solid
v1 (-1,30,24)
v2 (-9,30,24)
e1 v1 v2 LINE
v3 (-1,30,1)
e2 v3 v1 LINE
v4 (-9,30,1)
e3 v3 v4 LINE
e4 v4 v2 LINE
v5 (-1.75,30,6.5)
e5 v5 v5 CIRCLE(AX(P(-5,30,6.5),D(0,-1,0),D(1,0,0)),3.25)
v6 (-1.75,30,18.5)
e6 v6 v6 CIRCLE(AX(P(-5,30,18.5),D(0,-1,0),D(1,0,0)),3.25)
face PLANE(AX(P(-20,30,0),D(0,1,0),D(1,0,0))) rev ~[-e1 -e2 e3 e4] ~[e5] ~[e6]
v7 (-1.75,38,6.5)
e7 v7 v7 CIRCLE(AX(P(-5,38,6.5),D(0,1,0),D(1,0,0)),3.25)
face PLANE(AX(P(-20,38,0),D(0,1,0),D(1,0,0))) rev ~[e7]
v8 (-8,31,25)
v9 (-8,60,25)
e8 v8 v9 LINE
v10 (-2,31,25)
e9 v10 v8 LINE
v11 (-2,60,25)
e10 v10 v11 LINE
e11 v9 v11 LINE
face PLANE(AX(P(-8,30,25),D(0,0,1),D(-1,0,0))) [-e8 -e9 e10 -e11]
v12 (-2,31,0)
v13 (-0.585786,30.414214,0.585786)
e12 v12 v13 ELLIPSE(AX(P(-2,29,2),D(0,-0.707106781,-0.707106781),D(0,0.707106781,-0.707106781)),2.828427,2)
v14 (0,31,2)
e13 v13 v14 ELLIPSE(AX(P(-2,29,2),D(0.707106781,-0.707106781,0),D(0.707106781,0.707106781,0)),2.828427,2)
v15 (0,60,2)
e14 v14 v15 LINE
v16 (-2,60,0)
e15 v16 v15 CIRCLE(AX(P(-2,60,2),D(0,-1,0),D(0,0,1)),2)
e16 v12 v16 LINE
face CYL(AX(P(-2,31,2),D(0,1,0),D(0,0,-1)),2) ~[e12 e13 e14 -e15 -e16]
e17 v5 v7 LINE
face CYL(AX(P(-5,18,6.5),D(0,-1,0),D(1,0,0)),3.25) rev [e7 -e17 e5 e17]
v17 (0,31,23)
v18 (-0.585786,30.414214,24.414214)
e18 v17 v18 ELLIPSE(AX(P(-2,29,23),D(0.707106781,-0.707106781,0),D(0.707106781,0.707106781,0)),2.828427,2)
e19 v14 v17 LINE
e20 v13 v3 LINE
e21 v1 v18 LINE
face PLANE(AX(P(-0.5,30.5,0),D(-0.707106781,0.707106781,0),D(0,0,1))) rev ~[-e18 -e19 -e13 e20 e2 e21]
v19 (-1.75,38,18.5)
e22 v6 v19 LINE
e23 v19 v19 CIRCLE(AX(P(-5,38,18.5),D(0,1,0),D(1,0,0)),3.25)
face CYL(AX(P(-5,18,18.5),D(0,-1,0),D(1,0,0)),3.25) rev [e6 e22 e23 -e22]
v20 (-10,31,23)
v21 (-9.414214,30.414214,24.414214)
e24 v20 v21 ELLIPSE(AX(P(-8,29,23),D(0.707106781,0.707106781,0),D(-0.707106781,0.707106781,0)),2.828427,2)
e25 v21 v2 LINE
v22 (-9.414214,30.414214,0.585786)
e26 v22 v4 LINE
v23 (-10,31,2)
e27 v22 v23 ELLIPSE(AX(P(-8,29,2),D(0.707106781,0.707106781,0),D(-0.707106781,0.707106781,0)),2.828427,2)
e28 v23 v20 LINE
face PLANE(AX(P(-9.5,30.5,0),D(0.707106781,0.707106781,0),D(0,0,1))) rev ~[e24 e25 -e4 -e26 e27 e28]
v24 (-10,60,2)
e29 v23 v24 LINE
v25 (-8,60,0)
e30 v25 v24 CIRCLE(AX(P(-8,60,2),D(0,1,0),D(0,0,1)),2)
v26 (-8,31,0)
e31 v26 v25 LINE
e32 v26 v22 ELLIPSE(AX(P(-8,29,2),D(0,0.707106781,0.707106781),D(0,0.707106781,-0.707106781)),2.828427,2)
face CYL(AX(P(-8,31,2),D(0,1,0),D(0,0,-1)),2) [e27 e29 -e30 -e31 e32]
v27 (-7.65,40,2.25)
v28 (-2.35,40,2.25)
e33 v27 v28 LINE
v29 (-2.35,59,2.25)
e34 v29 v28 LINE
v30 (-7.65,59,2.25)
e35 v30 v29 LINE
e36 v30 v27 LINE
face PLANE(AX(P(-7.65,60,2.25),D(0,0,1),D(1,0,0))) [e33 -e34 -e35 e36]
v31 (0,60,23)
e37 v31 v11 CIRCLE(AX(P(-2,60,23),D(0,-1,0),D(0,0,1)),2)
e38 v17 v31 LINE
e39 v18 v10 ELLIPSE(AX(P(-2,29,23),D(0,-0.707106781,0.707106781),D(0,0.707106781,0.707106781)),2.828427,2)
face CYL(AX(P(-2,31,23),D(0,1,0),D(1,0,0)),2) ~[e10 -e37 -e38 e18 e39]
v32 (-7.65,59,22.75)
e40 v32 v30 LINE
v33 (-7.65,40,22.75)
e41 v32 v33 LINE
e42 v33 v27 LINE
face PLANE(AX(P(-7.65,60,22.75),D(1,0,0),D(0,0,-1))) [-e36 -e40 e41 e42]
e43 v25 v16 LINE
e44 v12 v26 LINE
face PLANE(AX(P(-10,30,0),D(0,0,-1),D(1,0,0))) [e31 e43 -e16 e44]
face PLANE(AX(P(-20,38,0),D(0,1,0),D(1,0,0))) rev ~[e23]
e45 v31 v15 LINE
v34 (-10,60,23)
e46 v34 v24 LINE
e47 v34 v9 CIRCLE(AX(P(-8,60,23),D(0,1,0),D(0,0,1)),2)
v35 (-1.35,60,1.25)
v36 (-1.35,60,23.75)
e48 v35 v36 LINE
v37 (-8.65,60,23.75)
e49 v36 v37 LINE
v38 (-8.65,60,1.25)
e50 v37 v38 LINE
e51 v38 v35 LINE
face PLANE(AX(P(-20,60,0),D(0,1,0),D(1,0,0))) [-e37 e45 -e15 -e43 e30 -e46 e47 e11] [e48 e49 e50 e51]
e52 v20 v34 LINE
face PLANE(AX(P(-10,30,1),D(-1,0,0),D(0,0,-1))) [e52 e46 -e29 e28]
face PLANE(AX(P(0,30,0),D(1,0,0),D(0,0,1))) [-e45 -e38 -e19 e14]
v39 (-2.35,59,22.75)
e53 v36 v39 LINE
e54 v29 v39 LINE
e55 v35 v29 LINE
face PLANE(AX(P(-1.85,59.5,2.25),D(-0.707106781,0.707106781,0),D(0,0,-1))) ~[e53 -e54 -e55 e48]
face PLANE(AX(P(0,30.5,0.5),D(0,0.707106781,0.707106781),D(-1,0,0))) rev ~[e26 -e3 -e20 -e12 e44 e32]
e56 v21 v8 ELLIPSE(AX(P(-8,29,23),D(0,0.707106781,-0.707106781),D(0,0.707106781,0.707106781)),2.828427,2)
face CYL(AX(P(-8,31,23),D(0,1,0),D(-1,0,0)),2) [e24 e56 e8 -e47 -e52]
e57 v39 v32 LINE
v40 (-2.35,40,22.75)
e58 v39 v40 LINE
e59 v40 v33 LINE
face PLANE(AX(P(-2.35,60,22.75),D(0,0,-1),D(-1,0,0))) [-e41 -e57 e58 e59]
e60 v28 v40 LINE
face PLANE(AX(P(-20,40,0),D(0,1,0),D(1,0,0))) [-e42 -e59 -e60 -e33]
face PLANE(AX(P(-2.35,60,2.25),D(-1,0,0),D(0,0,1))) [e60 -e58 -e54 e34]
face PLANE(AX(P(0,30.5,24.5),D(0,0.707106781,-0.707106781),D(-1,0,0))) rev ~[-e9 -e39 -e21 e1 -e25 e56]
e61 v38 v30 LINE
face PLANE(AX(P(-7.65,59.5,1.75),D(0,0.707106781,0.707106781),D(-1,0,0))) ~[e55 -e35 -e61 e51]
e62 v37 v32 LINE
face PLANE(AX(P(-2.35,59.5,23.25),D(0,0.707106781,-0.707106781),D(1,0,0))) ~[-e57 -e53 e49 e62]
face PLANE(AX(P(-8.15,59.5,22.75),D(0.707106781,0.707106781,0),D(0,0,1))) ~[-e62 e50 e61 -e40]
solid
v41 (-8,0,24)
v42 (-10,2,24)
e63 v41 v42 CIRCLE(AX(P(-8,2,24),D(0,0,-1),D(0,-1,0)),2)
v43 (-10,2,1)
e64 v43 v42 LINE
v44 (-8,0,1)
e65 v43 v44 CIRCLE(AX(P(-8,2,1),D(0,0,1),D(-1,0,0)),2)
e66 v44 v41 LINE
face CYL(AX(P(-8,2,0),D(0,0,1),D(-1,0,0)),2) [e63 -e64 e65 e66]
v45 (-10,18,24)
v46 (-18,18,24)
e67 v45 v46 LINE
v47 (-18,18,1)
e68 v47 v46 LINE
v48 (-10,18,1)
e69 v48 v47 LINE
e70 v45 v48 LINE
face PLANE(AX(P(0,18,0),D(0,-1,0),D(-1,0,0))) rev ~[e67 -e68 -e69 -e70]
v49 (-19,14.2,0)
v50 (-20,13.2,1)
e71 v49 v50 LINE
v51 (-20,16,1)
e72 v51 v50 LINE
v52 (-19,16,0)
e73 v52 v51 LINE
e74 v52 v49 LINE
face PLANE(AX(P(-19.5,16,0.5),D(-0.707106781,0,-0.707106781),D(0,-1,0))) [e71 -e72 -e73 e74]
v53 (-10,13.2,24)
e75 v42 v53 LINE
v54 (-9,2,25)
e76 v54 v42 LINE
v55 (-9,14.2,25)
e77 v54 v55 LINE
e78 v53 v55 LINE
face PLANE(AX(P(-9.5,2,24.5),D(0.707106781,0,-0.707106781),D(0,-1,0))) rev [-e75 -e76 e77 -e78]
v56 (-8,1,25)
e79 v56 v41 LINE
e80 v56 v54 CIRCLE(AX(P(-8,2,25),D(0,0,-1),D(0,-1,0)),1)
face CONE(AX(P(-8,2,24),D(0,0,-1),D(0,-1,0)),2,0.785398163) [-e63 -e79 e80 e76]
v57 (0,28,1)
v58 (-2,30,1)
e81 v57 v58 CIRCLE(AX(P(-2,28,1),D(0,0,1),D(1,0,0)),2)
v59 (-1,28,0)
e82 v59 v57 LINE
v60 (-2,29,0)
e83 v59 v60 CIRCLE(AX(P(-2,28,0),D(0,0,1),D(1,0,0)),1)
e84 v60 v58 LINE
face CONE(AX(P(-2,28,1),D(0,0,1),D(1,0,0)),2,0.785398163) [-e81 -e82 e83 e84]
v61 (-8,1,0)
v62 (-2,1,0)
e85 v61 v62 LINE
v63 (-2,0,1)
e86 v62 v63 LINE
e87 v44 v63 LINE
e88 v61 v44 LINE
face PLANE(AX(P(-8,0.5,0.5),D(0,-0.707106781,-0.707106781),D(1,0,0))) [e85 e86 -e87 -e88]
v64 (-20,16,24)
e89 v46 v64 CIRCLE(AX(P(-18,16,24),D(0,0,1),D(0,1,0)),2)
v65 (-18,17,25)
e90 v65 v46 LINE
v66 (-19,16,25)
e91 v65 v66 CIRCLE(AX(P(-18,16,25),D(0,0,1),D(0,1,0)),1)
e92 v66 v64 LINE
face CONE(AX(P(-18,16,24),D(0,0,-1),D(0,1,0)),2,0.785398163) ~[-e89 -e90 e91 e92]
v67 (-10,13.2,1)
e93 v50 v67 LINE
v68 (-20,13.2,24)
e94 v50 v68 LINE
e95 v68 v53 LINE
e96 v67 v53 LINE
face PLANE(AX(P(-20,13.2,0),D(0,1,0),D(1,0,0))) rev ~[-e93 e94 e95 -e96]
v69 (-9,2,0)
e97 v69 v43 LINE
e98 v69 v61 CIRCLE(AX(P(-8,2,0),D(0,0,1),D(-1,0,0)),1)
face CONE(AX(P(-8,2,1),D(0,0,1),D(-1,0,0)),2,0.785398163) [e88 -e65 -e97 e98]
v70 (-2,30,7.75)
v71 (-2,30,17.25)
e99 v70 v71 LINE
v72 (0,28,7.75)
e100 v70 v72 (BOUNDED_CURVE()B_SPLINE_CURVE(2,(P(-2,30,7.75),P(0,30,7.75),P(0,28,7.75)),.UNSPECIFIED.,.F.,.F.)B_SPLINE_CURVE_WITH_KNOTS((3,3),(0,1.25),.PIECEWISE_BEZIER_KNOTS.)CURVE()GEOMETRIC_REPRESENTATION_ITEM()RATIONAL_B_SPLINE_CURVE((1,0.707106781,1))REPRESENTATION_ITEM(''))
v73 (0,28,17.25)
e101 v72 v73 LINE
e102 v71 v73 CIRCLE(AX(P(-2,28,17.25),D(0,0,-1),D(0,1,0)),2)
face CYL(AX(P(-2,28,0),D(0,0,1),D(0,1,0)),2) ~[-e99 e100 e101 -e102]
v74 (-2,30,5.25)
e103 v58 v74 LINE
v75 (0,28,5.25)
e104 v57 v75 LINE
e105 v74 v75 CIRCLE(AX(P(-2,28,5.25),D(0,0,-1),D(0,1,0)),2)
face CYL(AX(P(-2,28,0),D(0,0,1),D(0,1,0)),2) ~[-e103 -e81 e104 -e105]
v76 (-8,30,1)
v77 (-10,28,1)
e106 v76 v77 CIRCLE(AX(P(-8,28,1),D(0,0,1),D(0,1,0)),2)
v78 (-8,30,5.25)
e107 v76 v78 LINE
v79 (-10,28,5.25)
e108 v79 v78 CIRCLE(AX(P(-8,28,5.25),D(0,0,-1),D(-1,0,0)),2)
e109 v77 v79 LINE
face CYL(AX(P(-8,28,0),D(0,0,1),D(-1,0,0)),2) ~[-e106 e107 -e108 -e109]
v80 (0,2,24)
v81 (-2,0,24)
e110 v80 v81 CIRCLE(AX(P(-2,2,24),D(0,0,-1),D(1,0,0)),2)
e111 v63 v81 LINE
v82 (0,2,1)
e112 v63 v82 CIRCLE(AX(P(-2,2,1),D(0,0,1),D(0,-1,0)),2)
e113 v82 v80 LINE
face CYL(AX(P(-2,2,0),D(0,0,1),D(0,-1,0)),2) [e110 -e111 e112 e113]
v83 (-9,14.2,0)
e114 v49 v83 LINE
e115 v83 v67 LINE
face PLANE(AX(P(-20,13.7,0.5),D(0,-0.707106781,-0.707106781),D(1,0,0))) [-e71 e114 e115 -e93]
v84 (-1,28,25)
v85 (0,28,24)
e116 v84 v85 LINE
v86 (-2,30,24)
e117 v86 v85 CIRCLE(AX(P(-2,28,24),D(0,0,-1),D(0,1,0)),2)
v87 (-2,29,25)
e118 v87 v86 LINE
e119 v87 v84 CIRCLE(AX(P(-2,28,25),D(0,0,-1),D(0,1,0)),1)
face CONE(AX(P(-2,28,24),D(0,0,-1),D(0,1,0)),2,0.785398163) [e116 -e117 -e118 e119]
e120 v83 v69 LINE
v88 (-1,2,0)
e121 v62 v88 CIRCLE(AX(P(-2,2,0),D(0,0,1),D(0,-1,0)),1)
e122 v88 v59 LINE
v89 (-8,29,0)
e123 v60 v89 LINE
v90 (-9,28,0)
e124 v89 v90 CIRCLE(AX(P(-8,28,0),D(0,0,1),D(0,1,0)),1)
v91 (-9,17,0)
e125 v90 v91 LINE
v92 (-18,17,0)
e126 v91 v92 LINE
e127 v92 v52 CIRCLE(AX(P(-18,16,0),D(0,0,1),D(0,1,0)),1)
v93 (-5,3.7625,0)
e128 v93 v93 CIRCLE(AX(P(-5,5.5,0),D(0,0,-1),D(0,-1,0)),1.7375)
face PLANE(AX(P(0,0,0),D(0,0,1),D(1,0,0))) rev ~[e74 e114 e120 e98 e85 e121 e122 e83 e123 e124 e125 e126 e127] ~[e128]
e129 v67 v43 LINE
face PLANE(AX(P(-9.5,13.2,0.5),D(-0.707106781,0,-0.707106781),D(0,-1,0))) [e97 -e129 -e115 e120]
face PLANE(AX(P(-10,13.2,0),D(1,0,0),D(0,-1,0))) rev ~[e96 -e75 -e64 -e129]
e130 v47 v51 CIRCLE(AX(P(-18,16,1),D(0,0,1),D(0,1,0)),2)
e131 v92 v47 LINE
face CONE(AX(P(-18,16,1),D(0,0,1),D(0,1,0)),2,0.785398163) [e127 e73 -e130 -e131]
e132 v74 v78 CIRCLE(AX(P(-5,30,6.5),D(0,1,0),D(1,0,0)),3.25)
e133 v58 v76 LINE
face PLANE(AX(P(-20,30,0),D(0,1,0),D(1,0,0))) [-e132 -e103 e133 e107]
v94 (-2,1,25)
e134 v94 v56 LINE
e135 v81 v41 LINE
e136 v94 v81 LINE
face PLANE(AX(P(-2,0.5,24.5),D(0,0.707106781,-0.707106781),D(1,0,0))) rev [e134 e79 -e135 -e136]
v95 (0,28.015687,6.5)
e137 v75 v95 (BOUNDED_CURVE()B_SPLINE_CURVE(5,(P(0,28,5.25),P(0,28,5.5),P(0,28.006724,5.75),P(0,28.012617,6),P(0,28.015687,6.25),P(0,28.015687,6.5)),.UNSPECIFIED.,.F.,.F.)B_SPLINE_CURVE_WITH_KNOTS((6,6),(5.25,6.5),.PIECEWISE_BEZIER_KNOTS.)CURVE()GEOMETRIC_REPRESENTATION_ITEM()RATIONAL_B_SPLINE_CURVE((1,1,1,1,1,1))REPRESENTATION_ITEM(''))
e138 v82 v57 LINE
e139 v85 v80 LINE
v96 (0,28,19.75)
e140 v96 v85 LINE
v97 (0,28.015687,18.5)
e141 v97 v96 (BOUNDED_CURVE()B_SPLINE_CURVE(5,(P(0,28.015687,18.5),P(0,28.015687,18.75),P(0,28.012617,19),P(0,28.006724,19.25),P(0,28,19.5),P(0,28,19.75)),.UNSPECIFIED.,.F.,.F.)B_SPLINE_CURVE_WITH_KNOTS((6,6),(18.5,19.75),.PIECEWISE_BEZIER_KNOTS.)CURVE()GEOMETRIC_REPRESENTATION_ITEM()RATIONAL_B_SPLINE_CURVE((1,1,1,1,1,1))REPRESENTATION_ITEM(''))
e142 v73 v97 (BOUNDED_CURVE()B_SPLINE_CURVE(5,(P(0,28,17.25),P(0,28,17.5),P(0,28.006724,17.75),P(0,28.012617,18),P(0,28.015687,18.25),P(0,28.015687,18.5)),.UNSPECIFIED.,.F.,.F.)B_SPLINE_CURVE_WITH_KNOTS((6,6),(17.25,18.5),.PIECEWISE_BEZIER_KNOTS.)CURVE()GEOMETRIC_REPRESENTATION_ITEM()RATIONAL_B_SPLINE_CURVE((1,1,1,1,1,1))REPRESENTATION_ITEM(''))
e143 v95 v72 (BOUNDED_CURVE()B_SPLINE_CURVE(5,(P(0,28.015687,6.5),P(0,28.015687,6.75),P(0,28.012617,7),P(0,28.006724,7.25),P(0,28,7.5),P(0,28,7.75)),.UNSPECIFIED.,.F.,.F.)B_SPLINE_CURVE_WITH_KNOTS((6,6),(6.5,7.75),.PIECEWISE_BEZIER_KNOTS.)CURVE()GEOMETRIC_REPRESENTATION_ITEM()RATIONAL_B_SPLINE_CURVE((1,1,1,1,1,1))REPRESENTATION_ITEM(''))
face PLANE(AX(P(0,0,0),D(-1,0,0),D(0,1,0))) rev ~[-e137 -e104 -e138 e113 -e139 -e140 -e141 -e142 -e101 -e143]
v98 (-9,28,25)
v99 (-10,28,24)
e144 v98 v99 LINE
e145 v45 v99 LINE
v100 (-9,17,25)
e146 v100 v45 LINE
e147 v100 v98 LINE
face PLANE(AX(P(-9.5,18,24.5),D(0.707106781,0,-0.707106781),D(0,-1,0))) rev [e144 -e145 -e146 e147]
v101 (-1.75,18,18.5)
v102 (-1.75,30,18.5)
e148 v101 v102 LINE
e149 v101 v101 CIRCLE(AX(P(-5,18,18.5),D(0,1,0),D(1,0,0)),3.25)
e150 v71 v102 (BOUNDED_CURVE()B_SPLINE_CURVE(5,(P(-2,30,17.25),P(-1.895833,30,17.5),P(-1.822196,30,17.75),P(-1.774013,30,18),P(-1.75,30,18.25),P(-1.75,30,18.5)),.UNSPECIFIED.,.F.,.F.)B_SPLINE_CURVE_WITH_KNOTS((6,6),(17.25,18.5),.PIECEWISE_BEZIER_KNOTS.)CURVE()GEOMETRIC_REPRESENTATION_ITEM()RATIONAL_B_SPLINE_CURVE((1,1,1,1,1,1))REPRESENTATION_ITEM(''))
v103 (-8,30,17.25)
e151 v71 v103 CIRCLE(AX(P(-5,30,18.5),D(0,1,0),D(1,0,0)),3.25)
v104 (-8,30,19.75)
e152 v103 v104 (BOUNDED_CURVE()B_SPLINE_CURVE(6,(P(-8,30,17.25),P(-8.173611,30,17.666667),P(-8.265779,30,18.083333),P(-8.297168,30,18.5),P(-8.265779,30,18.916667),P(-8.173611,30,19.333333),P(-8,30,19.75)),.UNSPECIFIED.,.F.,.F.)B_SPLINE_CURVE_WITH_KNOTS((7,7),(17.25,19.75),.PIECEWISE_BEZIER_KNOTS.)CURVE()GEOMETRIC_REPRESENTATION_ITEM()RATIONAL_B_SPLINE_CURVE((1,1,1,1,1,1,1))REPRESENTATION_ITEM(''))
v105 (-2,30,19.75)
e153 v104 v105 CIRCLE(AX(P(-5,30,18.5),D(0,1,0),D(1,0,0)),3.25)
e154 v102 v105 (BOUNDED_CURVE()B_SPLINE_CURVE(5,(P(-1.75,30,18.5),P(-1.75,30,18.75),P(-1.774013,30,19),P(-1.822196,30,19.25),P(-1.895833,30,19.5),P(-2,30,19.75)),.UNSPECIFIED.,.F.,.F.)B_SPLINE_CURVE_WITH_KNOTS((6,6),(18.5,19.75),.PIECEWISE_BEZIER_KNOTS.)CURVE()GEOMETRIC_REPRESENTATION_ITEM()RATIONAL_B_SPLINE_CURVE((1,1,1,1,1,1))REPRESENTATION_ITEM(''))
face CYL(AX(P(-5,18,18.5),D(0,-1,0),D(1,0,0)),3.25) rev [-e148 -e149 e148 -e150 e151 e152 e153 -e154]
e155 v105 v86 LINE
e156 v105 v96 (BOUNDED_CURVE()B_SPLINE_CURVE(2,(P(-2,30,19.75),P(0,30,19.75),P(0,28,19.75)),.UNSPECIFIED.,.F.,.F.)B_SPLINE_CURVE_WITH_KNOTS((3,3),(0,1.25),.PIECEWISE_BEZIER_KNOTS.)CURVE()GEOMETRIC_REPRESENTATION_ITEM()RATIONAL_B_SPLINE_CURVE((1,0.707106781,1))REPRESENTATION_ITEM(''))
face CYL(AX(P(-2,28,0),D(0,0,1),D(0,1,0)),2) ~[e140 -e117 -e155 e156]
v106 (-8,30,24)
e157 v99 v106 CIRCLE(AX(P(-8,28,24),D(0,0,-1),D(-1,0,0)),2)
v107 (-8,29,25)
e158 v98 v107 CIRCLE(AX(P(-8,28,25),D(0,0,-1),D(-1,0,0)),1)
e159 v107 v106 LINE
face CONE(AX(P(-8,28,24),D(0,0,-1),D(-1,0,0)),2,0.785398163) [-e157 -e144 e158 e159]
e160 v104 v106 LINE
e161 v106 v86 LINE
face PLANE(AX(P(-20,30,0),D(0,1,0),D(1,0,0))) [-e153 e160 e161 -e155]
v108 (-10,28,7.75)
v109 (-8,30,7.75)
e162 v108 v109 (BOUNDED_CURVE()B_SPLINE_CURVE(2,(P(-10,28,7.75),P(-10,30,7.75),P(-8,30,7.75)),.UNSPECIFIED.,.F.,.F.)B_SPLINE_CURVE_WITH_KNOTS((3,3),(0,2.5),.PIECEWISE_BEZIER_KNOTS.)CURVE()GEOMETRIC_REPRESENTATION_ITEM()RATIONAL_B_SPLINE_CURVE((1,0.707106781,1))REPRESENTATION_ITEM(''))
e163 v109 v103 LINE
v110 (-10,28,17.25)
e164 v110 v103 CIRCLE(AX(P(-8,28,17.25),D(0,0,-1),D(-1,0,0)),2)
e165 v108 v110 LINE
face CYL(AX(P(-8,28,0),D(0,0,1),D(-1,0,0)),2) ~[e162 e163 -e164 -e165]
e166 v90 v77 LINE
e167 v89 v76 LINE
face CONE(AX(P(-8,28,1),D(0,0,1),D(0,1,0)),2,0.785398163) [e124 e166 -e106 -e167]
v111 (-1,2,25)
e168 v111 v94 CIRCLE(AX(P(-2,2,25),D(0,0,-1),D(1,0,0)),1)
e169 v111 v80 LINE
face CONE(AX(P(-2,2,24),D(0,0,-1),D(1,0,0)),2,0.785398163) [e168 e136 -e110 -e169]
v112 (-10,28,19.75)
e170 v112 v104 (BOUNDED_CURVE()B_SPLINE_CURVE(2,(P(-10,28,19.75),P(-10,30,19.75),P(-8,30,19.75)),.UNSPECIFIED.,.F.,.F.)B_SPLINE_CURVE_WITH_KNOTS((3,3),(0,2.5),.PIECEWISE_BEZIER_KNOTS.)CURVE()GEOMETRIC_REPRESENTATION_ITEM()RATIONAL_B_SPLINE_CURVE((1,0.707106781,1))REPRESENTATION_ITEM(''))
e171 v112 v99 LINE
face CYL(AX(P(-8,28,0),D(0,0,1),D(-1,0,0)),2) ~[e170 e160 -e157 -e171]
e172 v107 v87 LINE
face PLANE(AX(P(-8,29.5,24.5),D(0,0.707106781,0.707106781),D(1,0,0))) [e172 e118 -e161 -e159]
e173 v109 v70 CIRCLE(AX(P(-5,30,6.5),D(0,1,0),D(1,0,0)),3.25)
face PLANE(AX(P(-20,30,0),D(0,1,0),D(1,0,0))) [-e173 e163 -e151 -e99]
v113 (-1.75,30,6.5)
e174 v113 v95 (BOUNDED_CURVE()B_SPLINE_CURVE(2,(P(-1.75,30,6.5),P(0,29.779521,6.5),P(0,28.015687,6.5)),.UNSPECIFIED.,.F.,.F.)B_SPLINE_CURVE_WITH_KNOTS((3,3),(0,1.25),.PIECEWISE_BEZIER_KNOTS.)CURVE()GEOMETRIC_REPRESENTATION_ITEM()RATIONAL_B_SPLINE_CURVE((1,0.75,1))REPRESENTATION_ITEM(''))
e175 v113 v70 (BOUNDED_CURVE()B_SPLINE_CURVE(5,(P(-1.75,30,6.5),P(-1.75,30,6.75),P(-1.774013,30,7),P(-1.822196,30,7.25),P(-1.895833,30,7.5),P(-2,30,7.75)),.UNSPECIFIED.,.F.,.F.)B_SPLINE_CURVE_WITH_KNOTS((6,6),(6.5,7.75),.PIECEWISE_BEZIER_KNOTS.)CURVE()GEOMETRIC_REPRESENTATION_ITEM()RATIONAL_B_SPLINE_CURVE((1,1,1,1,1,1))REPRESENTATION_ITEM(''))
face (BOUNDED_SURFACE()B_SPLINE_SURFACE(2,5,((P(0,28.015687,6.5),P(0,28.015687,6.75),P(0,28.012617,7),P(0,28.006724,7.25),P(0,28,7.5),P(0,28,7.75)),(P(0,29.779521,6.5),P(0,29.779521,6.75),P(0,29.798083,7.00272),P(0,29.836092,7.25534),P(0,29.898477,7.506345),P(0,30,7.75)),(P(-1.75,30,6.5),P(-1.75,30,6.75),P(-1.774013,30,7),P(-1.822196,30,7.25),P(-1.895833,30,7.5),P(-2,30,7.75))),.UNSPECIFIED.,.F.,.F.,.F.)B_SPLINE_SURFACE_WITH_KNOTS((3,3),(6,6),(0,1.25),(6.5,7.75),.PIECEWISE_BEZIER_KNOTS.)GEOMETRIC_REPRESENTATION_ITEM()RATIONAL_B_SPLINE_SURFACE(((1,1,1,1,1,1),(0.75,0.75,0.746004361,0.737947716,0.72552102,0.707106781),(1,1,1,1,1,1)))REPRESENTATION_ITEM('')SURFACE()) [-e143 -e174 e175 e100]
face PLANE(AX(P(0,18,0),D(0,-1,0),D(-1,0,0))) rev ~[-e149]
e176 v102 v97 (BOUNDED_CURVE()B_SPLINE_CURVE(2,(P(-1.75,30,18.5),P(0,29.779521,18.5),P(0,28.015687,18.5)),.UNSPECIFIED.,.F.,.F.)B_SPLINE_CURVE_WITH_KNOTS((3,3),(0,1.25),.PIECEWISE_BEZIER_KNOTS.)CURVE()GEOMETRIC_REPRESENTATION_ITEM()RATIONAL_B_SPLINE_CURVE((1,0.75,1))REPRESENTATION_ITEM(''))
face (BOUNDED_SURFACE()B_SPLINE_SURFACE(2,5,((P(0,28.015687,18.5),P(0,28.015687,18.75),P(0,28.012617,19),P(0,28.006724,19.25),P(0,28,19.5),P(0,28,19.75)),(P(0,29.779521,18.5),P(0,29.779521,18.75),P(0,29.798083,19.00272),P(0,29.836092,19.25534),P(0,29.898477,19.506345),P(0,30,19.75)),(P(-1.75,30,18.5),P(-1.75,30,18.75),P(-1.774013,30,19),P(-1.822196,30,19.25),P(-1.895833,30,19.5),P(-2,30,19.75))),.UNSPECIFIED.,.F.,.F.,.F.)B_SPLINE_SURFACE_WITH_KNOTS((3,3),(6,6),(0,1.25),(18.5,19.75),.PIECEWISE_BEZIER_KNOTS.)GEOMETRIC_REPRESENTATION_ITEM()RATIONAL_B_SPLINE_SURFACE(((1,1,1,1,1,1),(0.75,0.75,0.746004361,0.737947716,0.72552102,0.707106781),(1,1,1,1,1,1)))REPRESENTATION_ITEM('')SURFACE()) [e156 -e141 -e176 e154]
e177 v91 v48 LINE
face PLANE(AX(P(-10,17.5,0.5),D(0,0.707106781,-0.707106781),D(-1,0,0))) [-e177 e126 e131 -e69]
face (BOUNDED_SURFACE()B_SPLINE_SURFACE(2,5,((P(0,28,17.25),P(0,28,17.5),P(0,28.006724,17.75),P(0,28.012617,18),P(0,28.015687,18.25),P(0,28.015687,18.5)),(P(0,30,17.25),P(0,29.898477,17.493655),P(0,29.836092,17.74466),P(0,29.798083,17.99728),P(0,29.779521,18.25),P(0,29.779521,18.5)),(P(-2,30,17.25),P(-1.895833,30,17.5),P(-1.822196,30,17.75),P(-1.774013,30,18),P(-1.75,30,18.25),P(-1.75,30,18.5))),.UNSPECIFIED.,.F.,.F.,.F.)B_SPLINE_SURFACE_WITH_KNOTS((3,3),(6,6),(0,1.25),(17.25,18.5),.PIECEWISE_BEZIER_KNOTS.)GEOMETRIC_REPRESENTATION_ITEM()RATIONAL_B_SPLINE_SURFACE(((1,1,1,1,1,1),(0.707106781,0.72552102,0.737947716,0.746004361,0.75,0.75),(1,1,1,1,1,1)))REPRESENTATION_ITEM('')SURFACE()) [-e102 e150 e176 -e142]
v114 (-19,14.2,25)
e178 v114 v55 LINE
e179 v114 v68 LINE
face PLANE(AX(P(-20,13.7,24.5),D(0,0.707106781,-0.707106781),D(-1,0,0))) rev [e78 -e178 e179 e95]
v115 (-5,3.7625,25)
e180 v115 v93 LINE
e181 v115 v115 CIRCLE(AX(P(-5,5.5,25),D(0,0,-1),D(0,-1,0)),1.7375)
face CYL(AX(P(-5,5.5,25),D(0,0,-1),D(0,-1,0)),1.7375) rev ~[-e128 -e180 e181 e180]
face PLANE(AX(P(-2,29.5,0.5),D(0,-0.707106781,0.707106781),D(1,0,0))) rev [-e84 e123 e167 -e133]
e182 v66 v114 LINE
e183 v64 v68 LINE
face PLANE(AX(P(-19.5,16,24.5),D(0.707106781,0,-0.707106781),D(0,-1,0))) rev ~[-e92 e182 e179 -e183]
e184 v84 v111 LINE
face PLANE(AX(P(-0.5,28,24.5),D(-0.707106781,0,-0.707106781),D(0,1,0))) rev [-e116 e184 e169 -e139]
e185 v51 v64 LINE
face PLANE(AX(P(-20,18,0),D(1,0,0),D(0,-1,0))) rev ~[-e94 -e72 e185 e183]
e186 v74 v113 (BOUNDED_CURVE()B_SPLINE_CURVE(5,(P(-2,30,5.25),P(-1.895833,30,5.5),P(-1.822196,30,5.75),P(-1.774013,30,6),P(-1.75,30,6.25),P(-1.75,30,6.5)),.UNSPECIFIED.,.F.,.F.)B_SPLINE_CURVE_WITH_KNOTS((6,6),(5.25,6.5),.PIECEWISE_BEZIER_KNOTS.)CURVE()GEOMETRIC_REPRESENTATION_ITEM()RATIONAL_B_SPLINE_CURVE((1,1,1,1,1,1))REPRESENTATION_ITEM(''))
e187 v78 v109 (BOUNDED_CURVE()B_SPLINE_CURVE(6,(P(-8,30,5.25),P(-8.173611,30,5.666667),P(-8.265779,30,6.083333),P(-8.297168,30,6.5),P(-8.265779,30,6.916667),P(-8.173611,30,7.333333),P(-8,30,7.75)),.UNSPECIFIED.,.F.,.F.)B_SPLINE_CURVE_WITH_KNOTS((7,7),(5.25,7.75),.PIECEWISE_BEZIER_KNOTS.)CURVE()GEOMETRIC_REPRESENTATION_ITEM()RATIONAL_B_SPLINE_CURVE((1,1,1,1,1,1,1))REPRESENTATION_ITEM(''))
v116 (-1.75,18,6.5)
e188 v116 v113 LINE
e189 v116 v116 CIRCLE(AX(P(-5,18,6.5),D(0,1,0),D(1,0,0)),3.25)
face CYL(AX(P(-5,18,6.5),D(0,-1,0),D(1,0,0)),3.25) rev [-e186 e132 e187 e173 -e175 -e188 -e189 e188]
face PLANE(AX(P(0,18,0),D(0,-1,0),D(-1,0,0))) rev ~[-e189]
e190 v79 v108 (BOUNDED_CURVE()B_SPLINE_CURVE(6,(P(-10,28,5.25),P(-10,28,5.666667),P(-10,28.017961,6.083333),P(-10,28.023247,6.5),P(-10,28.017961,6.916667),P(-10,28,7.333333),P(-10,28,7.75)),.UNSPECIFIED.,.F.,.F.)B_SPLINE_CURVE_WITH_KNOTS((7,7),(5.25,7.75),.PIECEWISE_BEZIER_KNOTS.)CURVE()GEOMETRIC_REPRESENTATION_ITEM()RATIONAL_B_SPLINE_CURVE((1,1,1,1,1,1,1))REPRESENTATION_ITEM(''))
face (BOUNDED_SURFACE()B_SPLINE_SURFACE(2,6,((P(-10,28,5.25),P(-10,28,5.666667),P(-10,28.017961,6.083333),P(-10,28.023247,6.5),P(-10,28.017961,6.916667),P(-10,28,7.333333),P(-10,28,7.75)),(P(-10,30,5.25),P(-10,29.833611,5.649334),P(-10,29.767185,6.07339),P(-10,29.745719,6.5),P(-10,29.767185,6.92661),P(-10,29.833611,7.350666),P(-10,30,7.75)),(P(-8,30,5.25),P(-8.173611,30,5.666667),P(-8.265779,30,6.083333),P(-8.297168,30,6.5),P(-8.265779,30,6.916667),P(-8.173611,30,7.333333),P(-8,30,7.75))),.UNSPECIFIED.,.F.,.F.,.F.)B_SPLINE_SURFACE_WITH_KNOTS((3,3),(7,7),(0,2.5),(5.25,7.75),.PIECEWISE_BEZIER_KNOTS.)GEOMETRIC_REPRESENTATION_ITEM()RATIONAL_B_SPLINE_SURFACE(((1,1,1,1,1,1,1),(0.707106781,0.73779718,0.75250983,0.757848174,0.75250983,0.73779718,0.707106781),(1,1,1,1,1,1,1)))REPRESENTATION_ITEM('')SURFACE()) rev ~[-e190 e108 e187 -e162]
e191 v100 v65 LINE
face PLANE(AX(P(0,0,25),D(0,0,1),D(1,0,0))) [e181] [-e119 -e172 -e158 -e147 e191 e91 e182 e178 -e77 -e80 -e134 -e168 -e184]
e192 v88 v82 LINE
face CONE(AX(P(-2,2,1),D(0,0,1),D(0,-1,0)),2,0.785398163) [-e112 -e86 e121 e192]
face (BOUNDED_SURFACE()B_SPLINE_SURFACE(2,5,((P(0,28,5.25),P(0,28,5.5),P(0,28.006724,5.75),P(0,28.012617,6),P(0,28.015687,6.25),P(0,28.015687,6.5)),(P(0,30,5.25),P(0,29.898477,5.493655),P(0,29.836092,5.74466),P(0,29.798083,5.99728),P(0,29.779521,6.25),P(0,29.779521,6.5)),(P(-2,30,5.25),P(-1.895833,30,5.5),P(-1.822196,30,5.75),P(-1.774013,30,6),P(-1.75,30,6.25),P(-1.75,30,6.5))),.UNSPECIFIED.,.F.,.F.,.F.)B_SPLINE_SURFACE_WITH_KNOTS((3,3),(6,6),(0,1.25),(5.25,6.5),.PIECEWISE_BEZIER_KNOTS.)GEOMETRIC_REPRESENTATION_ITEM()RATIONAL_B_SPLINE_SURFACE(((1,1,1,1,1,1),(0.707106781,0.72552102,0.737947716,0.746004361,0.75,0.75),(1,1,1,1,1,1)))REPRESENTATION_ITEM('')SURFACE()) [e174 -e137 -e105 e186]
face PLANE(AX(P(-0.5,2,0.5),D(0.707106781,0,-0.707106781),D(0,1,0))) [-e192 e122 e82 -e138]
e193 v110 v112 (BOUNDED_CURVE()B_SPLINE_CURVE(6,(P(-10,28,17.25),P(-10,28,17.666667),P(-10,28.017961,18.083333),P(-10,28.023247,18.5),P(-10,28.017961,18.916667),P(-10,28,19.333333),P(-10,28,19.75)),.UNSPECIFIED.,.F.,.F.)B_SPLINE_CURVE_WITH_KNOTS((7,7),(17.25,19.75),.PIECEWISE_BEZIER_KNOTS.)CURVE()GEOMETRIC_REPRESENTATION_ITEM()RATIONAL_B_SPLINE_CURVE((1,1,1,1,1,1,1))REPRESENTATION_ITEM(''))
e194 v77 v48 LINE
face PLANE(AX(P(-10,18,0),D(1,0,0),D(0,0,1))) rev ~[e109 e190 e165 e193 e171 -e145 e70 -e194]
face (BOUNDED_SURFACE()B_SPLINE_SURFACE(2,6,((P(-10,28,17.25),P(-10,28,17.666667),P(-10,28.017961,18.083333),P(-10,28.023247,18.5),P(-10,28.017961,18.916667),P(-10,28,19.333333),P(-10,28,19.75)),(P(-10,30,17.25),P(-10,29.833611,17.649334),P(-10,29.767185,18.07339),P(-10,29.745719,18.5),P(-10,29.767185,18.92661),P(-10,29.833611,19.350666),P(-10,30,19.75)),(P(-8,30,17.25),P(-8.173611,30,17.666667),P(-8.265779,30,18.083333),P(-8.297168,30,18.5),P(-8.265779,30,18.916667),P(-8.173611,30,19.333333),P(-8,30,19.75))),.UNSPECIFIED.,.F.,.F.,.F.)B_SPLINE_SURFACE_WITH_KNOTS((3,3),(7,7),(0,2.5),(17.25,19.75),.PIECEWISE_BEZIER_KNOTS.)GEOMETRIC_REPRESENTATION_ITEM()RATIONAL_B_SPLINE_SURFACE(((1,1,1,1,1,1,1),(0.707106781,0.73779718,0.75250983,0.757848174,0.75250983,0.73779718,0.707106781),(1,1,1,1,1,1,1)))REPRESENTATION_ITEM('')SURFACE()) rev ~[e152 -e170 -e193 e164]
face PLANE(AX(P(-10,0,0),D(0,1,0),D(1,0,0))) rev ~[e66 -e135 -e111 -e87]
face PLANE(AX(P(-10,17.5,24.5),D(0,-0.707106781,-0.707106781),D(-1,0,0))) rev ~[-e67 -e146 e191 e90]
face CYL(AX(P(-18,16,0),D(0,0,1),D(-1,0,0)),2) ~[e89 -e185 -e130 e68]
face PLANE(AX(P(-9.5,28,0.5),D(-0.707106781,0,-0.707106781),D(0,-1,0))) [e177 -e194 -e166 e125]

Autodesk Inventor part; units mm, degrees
ref_plane "YZ Plane" through (0, 0, 0) normal (1, 0, 0) x (0, 1, 0)
ref_plane "XZ Plane" through (0, 0, 0) normal (0, 1, 0) x (-1, 0, 0)
ref_plane "XY Plane" through (0, 0, 0) normal (0, 0, 1) x (1, 0, 0)
sketch "Sketch1" plane through (0, 0, 0) normal (0, 0, 1) x (1, 0, 0)
  line L0 (-20, 13.2) -> (-10, 13.2)
  line L1 (-10, 13.2) -> (-10, 0)
  line L2 (-10, 0) -> (0, 0)
  line L3 (0, 0) -> (0, 18)
  line L4 (0, 18) -> (-20, 18)
  line L5 (-20, 18) -> (-20, 13.2)
  point P0 (-10, 6.6)
  dimension "d0" = 18
  dimension "d1" = 20
  dimension "d3" = 10
  dimension "d4" = 4.8
extrude "Extrusion1" add sketch "Sketch1" along normal blind 25
sketch "Sketch4" plane through (-20, 18, 0) normal (0, 1, 0) x (1, 0, 0)
  line L0 (20, 0) -> (10, 0)
  line L1 (10, 0) -> (10, -25)
  line L2 (10, -25) -> (20, -25)
  line L3 (20, -25) -> (20, 0)
  line L4 (0, 0) -> (0, -25) projected
  line L5 (0, -12.5) -> (20, -12.5)
  circle A0 centre (15, -6.5) radius 3.25
  circle A1 centre (15, -18.5) radius 3.25
  dimension "d21" = 10
  dimension "d25" = 12
  dimension "d26" = 6.5
  dimension "d27" = 5
extrude "Extrusion2" add sketch "Sketch4" along normal blind 12
sketch "Sketch2" plane through (0, 0, 25) normal (0, 0, 1) x (1, 0, 0)
  line L0 (-10, 0) -> (0, 0) construction
  line L1 (-5, 0) -> (-5, 18) construction
  line L2 (0, 18) -> (-20, 18) construction
  line L3 (-10, 13.2) -> (-10, 0) construction
  line L4 (-10, 5.5) -> (0, 5.5) construction
  point P0 (-5, 5.5)
  dimension "d15" = 12.5
hole "Hole1" at (-5, 5.5, 25) direction (0, 0, -1) diameter 3.475 end through all
fillet "Fillet3" radius 2 5 edges at (-20, 18, 12.5) (-10, 0, 12.5) (0, 0, 12.5) (0, 30, 12.5) (-10, 30, 12.5)
chamfer "Chamfer2" distance 1 angle 45 22 edges at (-14, 18, 25) (-19.4142, 17.4142, 25) (-20, 14.6, 25) (-15, 13.2, 25) (-10, 23, 25) (-5, 30, 25) (0, 15, 25) (-0.5858, 0.5858, 25) (-5, 0, 25) (-9.4142, 0.5858, 25) (-10, 7.6, 25) (-0.5858, 0.5858, 0) (0, 15, 0) (-5, 30, 0) (-10, 23, 0) (-5, 0, 0) (-9.4142, 0.5858, 0) (-10, 7.6, 0) (-15, 13.2, 0) (-14, 18, 0) (-19.4142, 17.4142, 0) (-20, 14.6, 0)
sketch "Sketch5" plane through (-20, 30, 0) normal (0, 1, 0) x (1, 0, 0)
  line L0 (10, -1) -> (10, -24) projected
  line L1 (20, -24) -> (20, -1) projected
  line L2 (18, 0) -> (12, 0) projected
  line L3 (12, -25) -> (18, -25) projected
  line L4 (10, 0) -> (20, 0)
  line L5 (20, 0) -> (20, -25)
  line L6 (20, -25) -> (10, -25)
  line L7 (10, -25) -> (10, 0)
  point P0 (20, 0)
  point P1 (20, -12.5)
  point P2 (10, -12.5)
  point P3 (15, 0)
  point P4 (15, -25)
  point P5 (20, -1)
  point P6 (18, 0)
extrude "Extrusion3" add sketch "Sketch5" along normal blind 30 separate body
extrude "Extrusion4" cut sketch "Sketch4" along normal blind 20 contours A0 | A1 bodies 2
sketch "Sketch6" plane through (-20, 60, 0) normal (0, 1, 0) x (1, 0, 0)
  line L0 (12.35, -2.25) -> (17.65, -2.25)
  line L1 (17.65, -2.25) -> (17.65, -22.75)
  line L2 (17.65, -22.75) -> (12.35, -22.75)
  line L3 (12.35, -22.75) -> (12.35, -2.25)
  line L4 (20, -25) -> (20, 0) projected
  line L5 (10, -25) -> (20, -25) projected
  point P0 (17.65, -12.5)
  point P1 (20, -12.5)
  point P2 (15, -22.75)
  point P3 (15, -25)
  dimension "d38" = 20.5
  dimension "d39" = 5.3
extrude "Extrusion5" cut sketch "Sketch6" against normal blind 20 bodies 2
chamfer "Chamfer3" distance 1 angle 45 4 edges at (-10, 30, 12.5) (-5, 30, 0) (0, 30, 12.5) (-5, 30, 25)
chamfer "Chamfer4" distance 1 angle 45 4 edges at (-7.65, 60, 12.5) (-5, 60, 22.75) (-2.35, 60, 12.5) (-5, 60, 2.25)
fillet "Fillet4" radius 2 4 edges at (-10, 45.5, 25) (0, 45.5, 25) (0, 45.5, 0) (-10, 45.5, 0)
properties part number "BaseAux_Sensor_V2"
